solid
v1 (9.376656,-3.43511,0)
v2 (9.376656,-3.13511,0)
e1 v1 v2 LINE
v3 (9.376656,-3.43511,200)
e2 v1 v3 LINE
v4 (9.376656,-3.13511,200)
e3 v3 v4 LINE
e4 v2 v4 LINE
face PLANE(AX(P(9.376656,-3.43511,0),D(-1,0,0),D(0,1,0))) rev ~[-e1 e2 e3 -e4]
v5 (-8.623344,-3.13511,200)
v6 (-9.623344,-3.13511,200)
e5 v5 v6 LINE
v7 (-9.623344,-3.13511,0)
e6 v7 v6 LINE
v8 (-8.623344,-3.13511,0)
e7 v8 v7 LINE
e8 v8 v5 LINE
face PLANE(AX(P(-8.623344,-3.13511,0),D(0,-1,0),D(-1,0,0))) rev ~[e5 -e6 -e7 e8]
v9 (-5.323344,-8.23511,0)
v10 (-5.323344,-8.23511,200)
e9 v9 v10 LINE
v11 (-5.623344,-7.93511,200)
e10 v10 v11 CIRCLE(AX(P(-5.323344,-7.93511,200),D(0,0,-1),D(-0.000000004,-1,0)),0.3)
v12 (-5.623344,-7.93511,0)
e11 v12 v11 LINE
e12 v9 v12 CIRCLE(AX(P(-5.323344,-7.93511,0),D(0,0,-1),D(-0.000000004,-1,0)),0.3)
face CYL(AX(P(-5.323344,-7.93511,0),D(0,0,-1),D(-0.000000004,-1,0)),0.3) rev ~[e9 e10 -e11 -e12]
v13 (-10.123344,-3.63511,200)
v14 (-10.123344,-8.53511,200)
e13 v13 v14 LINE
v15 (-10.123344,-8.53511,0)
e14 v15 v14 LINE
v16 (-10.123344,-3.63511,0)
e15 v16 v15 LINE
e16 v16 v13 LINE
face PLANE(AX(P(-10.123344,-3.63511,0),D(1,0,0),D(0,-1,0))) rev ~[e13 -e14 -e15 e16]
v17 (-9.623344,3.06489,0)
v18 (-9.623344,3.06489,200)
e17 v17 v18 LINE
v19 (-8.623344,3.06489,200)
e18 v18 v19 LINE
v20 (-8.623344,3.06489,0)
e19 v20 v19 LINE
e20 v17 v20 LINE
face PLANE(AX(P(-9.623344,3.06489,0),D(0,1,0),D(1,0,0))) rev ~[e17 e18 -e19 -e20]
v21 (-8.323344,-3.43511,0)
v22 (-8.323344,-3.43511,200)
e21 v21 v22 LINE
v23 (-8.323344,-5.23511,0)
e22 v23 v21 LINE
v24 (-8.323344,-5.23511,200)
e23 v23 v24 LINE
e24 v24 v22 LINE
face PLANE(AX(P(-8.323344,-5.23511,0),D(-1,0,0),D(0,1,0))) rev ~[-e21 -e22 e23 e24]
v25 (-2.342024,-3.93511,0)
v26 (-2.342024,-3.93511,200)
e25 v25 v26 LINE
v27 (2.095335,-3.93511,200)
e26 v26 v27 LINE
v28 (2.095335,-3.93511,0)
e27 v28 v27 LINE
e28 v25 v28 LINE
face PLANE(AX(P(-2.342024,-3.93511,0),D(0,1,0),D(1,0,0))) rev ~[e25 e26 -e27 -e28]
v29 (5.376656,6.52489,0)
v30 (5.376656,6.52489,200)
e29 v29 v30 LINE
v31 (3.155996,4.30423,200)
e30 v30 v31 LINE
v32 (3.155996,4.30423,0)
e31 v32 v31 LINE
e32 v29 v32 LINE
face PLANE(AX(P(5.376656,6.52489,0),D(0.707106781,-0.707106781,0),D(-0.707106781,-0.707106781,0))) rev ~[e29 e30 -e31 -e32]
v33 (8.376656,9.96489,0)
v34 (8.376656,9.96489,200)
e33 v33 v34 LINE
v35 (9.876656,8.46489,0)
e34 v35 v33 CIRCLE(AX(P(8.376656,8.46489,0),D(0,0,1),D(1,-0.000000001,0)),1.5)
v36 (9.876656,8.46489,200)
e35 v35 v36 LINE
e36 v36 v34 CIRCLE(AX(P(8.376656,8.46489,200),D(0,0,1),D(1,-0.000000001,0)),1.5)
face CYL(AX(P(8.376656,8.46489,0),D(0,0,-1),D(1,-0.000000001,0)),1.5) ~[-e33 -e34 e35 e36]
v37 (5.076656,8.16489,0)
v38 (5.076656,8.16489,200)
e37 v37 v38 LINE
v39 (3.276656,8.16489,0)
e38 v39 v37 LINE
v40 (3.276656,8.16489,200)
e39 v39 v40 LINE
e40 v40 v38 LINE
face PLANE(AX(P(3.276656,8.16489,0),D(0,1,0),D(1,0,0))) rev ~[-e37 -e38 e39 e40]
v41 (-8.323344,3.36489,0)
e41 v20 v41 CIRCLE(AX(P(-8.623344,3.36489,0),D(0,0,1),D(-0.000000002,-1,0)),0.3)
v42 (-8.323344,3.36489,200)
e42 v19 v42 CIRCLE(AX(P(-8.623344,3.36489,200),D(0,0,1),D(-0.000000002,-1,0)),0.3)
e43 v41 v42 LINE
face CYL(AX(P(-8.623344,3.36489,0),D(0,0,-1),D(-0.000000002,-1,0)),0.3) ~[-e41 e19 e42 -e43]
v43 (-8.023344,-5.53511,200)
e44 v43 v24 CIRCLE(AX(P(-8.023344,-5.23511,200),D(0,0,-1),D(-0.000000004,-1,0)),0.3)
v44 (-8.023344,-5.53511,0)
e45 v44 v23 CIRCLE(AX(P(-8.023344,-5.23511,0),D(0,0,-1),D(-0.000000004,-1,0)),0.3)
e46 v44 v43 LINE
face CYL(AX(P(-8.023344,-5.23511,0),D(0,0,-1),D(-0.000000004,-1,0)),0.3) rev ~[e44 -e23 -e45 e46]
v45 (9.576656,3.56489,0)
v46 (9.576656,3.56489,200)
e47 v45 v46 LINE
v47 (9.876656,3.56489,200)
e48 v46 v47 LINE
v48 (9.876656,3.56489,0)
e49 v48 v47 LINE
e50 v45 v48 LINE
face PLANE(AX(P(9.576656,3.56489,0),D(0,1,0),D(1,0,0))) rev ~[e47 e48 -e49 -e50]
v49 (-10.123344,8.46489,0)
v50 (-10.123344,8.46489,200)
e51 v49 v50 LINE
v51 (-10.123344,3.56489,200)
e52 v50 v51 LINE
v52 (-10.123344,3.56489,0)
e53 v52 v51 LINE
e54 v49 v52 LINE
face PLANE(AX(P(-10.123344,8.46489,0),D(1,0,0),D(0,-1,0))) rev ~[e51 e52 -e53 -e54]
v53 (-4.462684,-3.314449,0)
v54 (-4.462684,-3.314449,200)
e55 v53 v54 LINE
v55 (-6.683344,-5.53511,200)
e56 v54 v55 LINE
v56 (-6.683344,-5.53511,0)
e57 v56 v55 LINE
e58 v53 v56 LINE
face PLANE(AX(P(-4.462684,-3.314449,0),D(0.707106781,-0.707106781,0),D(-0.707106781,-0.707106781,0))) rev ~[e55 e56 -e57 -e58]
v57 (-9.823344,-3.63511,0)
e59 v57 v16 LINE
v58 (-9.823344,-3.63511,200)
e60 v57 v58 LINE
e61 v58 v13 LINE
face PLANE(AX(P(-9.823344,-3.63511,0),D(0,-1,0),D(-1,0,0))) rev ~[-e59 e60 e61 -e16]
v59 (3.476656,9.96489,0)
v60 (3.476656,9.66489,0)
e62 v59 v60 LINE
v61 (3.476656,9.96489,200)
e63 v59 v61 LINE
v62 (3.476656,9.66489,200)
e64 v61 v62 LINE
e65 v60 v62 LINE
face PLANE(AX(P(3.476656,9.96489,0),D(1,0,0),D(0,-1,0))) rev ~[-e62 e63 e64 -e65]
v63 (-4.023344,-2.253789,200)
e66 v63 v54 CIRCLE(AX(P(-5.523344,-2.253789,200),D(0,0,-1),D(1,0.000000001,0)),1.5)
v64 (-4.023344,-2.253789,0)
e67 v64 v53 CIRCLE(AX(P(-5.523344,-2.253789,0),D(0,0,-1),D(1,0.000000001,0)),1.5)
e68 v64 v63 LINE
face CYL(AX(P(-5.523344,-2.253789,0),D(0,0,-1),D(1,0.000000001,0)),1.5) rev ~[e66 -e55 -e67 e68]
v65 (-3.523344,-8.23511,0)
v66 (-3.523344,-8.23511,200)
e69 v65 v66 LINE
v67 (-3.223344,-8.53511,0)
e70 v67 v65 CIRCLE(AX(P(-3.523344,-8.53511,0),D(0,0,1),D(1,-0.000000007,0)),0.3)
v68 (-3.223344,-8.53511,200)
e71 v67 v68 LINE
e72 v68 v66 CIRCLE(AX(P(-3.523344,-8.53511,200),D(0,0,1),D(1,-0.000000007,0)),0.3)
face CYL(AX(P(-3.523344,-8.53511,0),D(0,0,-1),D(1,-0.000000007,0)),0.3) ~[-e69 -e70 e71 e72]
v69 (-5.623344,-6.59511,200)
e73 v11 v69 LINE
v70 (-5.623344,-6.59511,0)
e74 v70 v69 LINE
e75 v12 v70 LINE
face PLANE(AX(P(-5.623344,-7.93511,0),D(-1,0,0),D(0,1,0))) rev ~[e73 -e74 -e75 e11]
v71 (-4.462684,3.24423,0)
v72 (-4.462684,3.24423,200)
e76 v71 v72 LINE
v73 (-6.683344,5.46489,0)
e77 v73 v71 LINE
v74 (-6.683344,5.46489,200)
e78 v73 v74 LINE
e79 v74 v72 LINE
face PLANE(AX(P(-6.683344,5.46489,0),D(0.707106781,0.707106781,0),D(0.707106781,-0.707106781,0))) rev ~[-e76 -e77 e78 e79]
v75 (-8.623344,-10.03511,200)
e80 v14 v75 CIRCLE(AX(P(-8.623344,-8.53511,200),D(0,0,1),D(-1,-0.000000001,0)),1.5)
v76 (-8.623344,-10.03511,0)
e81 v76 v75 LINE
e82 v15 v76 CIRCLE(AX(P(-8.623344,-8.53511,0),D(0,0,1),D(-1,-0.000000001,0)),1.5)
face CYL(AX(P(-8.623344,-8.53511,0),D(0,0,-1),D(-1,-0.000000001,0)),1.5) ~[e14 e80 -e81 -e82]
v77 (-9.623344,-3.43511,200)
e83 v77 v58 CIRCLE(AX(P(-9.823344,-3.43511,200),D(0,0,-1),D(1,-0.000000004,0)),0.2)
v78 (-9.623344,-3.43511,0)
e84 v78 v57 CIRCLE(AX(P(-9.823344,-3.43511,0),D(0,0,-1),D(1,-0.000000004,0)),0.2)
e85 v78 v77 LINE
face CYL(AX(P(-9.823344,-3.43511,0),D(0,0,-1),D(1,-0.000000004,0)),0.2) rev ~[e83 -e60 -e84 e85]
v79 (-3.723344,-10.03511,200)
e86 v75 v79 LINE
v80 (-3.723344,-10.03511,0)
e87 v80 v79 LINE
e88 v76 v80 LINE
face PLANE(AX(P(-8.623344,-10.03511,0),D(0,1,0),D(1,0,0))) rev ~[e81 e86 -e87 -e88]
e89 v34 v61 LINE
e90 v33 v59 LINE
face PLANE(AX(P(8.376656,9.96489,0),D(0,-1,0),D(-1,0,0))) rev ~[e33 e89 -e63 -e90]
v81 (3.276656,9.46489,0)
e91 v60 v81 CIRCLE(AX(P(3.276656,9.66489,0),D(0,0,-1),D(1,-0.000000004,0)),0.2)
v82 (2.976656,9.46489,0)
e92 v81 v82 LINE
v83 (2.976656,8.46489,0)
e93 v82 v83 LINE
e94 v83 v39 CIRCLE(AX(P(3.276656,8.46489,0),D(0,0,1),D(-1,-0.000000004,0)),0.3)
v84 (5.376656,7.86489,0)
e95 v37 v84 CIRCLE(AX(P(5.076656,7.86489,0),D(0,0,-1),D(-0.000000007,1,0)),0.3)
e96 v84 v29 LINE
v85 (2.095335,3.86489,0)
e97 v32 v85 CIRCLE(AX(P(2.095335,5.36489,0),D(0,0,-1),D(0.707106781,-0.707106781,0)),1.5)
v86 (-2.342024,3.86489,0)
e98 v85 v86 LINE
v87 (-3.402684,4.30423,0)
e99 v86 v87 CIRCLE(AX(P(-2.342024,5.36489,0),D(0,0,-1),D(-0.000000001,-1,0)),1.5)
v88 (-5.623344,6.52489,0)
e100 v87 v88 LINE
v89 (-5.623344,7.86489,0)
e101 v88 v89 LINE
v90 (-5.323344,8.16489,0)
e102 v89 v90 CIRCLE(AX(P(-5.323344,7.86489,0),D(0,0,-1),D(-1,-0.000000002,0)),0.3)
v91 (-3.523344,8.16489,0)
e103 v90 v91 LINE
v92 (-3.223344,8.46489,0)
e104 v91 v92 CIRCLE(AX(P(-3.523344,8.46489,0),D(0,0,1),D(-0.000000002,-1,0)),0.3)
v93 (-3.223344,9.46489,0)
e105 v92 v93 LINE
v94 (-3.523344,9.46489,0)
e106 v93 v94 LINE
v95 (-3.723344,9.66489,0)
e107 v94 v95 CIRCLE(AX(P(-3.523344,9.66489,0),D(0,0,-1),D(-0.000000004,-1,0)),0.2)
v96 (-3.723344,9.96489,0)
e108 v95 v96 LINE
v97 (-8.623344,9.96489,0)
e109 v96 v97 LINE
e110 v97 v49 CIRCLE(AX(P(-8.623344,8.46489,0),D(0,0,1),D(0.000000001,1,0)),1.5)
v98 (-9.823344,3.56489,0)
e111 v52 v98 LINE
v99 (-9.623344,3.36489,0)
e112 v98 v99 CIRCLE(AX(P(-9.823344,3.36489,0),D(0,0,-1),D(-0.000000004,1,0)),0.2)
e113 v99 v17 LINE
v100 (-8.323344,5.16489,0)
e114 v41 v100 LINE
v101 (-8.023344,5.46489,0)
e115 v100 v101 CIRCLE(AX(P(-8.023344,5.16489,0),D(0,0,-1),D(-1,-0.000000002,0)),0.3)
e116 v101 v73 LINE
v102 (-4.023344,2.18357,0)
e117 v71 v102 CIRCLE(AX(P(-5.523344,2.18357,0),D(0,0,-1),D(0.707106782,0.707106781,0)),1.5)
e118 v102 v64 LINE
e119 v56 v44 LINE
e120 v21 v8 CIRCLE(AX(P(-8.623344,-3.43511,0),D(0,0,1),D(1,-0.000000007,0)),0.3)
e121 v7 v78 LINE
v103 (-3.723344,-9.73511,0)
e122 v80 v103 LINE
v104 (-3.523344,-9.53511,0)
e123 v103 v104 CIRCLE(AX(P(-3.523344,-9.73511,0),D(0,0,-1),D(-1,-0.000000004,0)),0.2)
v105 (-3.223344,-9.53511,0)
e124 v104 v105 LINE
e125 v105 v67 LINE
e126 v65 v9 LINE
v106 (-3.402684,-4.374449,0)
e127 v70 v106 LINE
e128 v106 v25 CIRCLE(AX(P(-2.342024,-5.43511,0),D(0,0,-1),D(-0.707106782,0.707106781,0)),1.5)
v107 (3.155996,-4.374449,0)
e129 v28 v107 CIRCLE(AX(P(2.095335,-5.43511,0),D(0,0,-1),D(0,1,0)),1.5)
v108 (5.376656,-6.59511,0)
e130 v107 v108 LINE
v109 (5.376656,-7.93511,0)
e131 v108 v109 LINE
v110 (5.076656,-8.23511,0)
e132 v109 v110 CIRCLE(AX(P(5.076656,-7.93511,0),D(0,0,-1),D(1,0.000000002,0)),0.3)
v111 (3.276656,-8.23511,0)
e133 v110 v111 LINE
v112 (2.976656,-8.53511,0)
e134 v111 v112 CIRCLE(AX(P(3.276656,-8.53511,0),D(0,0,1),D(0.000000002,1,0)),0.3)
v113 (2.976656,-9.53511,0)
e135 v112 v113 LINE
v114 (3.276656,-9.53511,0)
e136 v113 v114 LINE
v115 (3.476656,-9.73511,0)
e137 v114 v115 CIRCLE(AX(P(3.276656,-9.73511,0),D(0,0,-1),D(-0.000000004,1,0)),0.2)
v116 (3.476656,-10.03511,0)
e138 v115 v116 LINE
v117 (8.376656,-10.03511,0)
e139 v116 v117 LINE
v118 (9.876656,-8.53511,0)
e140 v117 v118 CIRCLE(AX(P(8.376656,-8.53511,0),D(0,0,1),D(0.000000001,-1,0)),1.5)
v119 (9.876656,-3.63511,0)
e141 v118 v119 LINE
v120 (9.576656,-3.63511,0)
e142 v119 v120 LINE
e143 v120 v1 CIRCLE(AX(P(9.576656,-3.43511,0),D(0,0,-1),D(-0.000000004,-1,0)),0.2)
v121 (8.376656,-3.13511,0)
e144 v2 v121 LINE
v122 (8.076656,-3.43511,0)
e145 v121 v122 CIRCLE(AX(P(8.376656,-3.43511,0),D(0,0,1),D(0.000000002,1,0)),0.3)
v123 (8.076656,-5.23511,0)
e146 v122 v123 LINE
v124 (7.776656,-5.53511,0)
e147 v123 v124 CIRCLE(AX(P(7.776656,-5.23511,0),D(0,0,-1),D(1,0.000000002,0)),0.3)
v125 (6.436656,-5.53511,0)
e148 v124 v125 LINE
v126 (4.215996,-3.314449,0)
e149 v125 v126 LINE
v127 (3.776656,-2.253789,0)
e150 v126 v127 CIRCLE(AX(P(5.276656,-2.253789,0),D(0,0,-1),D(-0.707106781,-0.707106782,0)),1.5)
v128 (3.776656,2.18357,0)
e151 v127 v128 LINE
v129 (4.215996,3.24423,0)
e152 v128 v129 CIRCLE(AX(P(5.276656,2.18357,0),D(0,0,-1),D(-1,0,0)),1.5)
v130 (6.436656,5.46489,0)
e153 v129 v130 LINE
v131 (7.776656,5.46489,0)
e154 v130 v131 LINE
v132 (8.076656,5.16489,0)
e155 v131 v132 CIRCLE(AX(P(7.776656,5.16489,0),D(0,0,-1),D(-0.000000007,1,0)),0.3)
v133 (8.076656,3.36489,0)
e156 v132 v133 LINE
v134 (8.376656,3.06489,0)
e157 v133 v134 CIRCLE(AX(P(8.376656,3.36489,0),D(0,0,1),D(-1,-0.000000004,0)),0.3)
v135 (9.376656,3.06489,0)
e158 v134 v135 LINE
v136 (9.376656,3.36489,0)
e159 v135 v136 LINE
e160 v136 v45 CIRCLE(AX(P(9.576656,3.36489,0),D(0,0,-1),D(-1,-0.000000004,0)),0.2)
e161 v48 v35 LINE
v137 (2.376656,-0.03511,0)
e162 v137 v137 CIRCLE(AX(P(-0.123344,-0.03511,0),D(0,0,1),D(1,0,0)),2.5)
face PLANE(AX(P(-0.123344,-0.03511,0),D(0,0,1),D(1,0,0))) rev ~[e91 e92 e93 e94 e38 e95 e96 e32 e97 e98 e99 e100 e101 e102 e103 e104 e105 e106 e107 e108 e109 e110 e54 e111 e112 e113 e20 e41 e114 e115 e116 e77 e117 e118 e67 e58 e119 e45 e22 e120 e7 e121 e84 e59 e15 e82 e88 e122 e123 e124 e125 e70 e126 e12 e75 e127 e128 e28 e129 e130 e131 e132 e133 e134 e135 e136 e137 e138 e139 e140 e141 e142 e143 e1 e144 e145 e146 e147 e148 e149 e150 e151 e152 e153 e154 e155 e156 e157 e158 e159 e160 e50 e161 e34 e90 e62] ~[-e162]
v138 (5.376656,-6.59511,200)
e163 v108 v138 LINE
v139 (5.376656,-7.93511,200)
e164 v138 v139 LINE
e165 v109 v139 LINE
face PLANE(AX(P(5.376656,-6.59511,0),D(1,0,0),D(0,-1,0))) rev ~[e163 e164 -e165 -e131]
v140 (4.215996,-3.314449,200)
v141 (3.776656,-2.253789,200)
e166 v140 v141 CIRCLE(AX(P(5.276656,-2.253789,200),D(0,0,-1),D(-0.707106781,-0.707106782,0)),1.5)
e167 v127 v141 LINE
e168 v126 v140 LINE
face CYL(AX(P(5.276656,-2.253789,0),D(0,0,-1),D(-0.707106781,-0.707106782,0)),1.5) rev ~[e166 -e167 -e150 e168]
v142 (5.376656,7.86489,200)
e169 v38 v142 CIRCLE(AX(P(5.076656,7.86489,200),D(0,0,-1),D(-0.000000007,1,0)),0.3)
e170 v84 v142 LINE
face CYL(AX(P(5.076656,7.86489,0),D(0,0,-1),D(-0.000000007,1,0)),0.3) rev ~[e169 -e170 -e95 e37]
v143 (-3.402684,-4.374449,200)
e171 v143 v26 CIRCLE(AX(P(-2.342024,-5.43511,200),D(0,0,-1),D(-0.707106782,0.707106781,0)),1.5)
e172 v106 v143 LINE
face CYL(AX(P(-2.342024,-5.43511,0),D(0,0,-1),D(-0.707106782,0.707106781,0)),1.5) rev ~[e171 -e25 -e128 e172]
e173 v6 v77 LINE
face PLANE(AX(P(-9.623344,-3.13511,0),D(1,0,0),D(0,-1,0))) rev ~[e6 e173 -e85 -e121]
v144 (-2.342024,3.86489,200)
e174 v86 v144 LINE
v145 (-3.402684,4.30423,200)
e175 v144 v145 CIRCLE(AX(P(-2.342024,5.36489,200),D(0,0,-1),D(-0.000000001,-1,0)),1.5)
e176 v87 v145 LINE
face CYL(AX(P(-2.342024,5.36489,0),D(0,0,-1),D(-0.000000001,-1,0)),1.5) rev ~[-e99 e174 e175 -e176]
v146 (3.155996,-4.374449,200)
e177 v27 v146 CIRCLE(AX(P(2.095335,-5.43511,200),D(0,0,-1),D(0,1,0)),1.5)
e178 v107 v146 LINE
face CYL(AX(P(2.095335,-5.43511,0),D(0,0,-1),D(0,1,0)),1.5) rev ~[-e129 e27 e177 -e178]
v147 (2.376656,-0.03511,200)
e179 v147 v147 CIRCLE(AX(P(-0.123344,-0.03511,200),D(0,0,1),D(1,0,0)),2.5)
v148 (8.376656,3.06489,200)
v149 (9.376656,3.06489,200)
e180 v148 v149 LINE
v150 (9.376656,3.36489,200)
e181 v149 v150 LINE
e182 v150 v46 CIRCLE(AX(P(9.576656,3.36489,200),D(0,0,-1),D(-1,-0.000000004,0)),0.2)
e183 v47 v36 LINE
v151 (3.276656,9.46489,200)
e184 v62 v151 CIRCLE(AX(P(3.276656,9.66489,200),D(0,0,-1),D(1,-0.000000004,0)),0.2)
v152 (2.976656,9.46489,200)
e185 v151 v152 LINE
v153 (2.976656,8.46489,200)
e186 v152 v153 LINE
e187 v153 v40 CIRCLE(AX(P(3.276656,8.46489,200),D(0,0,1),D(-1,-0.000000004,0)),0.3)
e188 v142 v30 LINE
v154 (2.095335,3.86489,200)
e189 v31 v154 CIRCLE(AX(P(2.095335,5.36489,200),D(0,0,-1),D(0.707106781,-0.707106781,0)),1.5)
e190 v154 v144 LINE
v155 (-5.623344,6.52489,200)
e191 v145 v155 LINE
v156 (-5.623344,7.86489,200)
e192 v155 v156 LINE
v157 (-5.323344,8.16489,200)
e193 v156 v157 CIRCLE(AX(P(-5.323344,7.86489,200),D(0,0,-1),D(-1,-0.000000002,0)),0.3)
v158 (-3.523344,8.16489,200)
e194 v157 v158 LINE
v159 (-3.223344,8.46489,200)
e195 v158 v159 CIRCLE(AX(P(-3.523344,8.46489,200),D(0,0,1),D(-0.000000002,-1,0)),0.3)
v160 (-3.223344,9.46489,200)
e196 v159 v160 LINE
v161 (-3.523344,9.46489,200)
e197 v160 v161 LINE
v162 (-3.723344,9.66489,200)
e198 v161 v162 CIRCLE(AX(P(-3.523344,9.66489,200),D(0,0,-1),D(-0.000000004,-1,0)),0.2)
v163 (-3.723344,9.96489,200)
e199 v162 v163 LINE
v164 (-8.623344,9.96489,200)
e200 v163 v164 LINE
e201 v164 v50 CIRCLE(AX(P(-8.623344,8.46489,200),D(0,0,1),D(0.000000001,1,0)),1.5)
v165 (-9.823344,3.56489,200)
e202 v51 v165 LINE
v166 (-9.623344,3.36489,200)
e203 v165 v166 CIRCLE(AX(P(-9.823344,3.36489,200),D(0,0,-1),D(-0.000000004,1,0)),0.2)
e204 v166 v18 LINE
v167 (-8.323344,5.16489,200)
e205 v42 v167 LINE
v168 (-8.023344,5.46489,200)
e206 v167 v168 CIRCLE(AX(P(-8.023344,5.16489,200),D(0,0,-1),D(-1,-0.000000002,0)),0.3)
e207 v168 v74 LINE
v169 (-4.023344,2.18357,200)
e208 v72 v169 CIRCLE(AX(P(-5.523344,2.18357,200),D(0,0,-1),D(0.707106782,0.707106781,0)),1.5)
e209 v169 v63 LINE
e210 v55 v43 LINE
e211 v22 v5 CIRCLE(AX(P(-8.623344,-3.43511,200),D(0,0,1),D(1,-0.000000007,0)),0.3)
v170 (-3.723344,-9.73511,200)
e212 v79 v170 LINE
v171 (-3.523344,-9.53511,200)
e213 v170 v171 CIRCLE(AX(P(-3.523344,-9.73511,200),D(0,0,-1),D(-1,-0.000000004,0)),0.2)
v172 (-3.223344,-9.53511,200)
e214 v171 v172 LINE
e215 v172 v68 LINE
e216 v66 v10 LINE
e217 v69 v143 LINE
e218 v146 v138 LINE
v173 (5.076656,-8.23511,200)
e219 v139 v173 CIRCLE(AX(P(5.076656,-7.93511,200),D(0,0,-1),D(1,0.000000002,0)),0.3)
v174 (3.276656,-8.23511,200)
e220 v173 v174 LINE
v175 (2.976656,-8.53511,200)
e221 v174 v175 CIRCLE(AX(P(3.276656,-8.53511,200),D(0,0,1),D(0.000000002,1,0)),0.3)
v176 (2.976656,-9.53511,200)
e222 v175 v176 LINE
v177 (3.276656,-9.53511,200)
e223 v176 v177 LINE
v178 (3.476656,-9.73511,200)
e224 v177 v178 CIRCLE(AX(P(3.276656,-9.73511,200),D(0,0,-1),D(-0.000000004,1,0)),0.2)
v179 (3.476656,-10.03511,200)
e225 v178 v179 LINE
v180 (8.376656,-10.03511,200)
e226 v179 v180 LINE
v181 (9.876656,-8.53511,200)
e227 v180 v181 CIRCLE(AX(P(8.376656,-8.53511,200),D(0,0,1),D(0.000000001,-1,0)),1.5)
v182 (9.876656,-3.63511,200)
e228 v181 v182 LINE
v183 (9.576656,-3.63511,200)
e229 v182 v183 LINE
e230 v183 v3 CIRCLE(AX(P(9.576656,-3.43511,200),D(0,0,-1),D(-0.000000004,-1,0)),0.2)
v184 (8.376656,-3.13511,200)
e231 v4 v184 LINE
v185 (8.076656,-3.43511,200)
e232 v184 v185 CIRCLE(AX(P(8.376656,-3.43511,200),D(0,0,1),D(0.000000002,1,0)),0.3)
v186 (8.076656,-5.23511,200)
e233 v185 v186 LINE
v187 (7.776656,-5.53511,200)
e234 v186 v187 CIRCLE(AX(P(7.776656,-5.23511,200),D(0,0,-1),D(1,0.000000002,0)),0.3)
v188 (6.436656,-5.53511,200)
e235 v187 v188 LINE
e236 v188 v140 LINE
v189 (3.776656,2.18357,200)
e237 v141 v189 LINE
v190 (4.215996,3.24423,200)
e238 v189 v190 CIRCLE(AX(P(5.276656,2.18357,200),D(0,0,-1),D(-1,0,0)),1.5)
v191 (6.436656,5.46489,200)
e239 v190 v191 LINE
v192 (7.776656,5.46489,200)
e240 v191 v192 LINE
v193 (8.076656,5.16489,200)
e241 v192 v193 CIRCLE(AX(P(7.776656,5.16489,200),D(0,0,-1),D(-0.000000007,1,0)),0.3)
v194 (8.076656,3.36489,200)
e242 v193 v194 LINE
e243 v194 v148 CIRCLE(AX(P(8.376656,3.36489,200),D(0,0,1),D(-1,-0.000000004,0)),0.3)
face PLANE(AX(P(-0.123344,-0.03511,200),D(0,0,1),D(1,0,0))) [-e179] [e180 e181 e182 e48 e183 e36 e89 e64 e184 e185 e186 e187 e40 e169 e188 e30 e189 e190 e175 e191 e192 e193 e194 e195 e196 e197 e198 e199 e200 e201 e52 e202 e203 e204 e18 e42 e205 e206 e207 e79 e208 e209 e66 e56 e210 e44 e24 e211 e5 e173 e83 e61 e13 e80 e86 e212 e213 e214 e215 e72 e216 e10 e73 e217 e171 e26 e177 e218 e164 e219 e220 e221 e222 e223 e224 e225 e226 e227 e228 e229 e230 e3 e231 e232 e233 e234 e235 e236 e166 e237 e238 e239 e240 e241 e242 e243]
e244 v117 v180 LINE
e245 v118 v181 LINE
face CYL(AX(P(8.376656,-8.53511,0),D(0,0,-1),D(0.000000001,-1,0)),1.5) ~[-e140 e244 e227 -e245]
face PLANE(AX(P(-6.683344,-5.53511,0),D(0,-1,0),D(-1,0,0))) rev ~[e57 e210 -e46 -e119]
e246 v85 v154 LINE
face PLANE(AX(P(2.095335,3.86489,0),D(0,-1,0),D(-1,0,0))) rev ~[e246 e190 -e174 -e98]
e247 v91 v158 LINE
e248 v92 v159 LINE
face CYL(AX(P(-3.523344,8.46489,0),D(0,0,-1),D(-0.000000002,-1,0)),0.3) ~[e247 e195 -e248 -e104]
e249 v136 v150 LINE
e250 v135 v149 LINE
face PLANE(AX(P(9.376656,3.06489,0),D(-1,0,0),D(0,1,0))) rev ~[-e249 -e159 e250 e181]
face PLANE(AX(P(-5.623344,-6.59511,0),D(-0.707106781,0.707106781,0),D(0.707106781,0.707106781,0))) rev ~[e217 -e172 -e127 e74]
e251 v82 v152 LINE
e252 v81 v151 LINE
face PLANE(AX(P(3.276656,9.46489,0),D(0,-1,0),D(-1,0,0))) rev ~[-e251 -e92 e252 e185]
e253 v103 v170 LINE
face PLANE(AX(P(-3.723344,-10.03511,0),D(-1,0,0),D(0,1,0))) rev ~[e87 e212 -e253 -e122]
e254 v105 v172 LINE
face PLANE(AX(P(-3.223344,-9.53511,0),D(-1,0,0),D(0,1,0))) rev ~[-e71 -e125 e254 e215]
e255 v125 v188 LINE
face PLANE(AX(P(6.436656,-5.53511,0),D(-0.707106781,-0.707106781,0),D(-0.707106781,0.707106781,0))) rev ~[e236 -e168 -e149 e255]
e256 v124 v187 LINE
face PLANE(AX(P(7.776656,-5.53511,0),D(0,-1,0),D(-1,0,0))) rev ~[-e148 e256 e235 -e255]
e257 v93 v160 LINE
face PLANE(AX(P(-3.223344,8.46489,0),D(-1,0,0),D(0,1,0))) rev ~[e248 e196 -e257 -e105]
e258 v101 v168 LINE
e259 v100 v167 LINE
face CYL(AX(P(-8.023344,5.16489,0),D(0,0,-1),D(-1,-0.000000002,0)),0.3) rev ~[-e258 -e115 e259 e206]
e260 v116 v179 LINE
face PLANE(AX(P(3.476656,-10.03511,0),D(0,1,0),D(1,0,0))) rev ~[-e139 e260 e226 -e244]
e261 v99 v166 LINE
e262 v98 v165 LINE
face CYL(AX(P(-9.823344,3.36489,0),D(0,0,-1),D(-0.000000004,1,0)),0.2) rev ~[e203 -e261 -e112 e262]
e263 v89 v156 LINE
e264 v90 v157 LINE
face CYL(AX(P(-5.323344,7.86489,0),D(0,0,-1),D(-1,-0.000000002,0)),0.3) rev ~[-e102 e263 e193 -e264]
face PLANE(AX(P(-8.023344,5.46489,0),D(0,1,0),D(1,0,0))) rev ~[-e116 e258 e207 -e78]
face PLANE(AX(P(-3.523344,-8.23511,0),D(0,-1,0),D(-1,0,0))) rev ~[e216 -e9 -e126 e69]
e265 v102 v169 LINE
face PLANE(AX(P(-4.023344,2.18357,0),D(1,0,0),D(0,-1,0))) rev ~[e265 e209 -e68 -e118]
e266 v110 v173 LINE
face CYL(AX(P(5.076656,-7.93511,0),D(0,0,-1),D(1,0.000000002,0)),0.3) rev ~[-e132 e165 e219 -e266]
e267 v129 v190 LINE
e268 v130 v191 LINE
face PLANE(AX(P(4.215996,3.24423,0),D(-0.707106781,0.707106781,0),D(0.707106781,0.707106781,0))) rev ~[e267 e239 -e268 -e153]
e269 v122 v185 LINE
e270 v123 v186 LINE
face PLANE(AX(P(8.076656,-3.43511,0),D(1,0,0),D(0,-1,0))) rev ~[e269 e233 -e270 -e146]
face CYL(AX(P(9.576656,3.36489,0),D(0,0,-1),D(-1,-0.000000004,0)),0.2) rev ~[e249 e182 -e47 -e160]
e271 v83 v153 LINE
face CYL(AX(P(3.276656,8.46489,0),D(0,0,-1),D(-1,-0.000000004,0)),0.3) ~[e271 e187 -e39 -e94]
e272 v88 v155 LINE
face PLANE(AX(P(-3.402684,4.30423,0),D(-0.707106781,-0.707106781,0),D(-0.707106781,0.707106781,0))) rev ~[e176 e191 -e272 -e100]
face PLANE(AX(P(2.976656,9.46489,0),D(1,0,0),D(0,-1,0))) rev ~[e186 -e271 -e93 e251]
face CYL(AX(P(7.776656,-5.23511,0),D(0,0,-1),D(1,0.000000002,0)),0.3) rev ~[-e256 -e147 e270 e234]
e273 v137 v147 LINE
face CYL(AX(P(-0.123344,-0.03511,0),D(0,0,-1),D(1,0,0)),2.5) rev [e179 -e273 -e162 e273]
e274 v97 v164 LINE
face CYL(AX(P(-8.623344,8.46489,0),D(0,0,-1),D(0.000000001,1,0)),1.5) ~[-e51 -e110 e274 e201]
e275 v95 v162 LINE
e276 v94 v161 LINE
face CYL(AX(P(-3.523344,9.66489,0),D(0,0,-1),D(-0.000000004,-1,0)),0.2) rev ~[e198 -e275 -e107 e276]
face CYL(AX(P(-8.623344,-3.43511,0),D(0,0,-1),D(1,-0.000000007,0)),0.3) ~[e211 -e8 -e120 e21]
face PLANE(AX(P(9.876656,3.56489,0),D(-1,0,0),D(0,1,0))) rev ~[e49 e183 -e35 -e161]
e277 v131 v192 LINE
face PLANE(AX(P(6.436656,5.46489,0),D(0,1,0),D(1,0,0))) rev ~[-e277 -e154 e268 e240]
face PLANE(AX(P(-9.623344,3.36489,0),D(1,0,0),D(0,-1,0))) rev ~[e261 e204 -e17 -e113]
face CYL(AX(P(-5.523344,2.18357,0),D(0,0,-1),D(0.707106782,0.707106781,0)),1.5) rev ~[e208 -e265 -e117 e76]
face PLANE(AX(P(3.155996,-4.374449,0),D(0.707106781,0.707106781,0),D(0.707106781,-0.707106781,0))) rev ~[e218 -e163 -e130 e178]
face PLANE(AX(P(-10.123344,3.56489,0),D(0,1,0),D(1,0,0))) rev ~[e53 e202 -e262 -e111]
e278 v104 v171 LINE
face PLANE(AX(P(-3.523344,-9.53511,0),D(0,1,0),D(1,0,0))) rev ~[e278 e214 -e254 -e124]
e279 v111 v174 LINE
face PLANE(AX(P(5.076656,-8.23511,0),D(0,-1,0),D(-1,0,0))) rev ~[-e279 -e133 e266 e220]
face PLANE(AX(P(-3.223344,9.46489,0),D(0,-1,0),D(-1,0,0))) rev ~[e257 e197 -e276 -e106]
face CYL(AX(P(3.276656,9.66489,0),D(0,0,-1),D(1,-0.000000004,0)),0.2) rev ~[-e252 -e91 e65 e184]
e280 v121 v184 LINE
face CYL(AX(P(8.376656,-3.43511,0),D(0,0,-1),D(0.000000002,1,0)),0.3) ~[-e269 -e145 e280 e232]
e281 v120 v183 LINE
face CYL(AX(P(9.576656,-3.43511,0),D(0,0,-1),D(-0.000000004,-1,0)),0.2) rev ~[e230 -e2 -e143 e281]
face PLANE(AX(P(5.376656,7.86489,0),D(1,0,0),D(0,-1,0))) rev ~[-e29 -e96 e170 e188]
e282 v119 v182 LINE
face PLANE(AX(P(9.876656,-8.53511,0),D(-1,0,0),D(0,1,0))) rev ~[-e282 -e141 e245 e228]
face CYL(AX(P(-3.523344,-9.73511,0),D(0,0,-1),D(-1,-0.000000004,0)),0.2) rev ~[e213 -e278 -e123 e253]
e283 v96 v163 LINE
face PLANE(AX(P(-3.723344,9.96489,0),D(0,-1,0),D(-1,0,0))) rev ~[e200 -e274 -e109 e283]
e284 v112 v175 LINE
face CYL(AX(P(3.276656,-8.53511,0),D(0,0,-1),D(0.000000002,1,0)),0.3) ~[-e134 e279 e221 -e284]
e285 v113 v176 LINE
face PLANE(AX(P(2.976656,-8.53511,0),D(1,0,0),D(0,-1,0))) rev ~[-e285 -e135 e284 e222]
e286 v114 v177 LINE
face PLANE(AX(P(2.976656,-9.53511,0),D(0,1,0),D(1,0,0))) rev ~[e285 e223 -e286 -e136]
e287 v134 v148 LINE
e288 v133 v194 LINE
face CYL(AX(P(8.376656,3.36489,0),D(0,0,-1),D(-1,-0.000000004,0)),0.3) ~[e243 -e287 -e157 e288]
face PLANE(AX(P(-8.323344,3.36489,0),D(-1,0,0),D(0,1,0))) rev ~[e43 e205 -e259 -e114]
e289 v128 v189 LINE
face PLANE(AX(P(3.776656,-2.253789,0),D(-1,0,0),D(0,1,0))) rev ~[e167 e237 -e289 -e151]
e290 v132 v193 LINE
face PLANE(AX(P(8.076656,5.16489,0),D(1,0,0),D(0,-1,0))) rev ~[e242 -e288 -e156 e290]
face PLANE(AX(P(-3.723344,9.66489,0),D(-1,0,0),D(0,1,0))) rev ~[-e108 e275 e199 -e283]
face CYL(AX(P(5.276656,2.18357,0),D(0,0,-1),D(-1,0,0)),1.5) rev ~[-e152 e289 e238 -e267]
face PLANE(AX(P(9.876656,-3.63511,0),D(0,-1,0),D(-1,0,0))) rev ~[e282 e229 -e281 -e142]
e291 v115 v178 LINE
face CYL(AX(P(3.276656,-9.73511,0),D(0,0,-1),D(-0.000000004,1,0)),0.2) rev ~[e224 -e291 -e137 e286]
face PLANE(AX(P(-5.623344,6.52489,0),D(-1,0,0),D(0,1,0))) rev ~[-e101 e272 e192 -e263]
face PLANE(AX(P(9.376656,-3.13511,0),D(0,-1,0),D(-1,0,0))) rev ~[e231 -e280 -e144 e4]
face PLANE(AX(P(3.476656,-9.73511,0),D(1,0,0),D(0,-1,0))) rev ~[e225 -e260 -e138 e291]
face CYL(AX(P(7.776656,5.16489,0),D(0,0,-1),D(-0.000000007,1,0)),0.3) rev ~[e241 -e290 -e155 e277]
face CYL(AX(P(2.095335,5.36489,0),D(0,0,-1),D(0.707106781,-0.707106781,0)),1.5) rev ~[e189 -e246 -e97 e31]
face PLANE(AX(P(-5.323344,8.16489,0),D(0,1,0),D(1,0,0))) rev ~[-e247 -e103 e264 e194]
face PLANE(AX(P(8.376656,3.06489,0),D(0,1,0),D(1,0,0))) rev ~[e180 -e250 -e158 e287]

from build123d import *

# Parameters (mm, degrees)
SKETCH_1_R      = 2.5
EXTRUDE_1_DEPTH = 200


with BuildPart() as part:
    # 草图1 → 凸台-拉伸1 (new body)
    with BuildSketch(Plane.XY):
        with BuildLine():
            Line((4.215995631, 3.244230202), (6.436655803, 5.464890373))
            Line((6.436655803, 5.464890373), (7.776655803, 5.464890373))
            ThreePointArc((7.776655803, 5.464890373), (7.988787838, 5.377022408), (8.076655803, 5.164890373))
            Line((8.076655803, 5.164890373), (8.076655803, 3.364890373))
            ThreePointArc((8.076655803, 3.364890373), (8.164523769, 3.152758339), (8.376655803, 3.064890373))
            Line((8.376655803, 3.064890373), (9.376655803, 3.064890373))
            Line((9.376655803, 3.064890373), (9.376655803, 3.364890373))
            ThreePointArc((9.376655803, 3.364890373), (9.435234447, 3.50631173), (9.576655803, 3.564890373))
            Line((9.576655803, 3.564890373), (9.876655803, 3.564890373))
            Line((9.876655803, 3.564890373), (9.876655803, 8.464890373))
            ThreePointArc((9.876655803, 8.464890373), (9.437315975, 9.525550545), (8.376655803, 9.964890373))
            Line((8.376655803, 9.964890373), (3.476655803, 9.964890373))
            Line((3.476655803, 9.964890373), (3.476655803, 9.664890373))
            ThreePointArc((3.476655803, 9.664890373), (3.418077159, 9.523469017), (3.276655803, 9.464890373))
            Line((3.276655803, 9.464890373), (2.976655803, 9.464890373))
            Line((2.976655803, 9.464890373), (2.976655803, 8.464890373))
            ThreePointArc((2.976655803, 8.464890373), (3.064523769, 8.252758339), (3.276655803, 8.164890373))
            Line((3.276655803, 8.164890373), (5.076655803, 8.164890373))
            ThreePointArc((5.076655803, 8.164890373), (5.288787838, 8.077022408), (5.376655803, 7.864890373))
            Line((5.376655803, 7.864890373), (5.376655803, 6.524890373))
            Line((5.376655803, 6.524890373), (3.155995631, 4.304230202))
            ThreePointArc((3.155995631, 4.304230202), (2.669360608, 3.979071075), (2.09533546, 3.864890373))
            Line((2.09533546, 3.864890373), (-2.342023853, 3.864890373))
            ThreePointArc((-2.342023853, 3.864890373), (-2.916049002, 3.979071075), (-3.402684025, 4.304230202))
            Line((-3.402684025, 4.304230202), (-5.623344197, 6.524890373))
            Line((-5.623344197, 6.524890373), (-5.623344197, 7.864890373))
            ThreePointArc((-5.623344197, 7.864890373), (-5.535476231, 8.077022408), (-5.323344197, 8.164890373))
            Line((-5.323344197, 8.164890373), (-3.523344197, 8.164890373))
            ThreePointArc((-3.523344197, 8.164890373), (-3.311212162, 8.252758339), (-3.223344197, 8.464890373))
            Line((-3.223344197, 8.464890373), (-3.223344197, 9.464890373))
            Line((-3.223344197, 9.464890373), (-3.523344197, 9.464890373))
            ThreePointArc((-3.523344197, 9.464890373), (-3.664765553, 9.523469017), (-3.723344197, 9.664890373))
            Line((-3.723344197, 9.664890373), (-3.723344197, 9.964890373))
            Line((-3.723344197, 9.964890373), (-8.623344197, 9.964890373))
            ThreePointArc((-8.623344197, 9.964890373), (-9.684004369, 9.525550545), (-10.123344197, 8.464890373))
            Line((-10.123344197, 8.464890373), (-10.123344197, 3.564890373))
            Line((-10.123344197, 3.564890373), (-9.823344197, 3.564890373))
            ThreePointArc((-9.823344197, 3.564890373), (-9.681922841, 3.50631173), (-9.623344197, 3.364890373))
            Line((-9.623344197, 3.364890373), (-9.623344197, 3.064890373))
            Line((-9.623344197, 3.064890373), (-8.623344197, 3.064890373))
            ThreePointArc((-8.623344197, 3.064890373), (-8.411212162, 3.152758339), (-8.323344197, 3.364890373))
            Line((-8.323344197, 3.364890373), (-8.323344197, 5.164890373))
            ThreePointArc((-8.323344197, 5.164890373), (-8.235476231, 5.377022408), (-8.023344197, 5.464890373))
            Line((-8.023344197, 5.464890373), (-6.683344197, 5.464890373))
            Line((-6.683344197, 5.464890373), (-4.462684025, 3.244230202))
            ThreePointArc((-4.462684025, 3.244230202), (-4.137524898, 2.757595178), (-4.023344197, 2.18357003))
            Line((-4.023344197, 2.18357003), (-4.023344197, -2.253789283))
            ThreePointArc((-4.023344197, -2.253789283), (-4.137524898, -2.827814432), (-4.462684025, -3.314449455))
            Line((-4.462684025, -3.314449455), (-6.683344197, -5.535109627))
            Line((-6.683344197, -5.535109627), (-8.023344197, -5.535109627))
            ThreePointArc((-8.023344197, -5.535109627), (-8.235476231, -5.447241661), (-8.323344197, -5.235109627))
            Line((-8.323344197, -5.235109627), (-8.323344197, -3.435109627))
            ThreePointArc((-8.323344197, -3.435109627), (-8.411212162, -3.222977592), (-8.623344197, -3.135109627))
            Line((-8.623344197, -3.135109627), (-9.623344197, -3.135109627))
            Line((-9.623344197, -3.135109627), (-9.623344197, -3.435109627))
            ThreePointArc((-9.623344197, -3.435109627), (-9.681922841, -3.576530983), (-9.823344197, -3.635109627))
            Line((-9.823344197, -3.635109627), (-10.123344197, -3.635109627))
            Line((-10.123344197, -3.635109627), (-10.123344197, -8.535109627))
            ThreePointArc((-10.123344197, -8.535109627), (-9.684004369, -9.595769798), (-8.623344197, -10.035109627))
            Line((-8.623344197, -10.035109627), (-3.723344197, -10.035109627))
            Line((-3.723344197, -10.035109627), (-3.723344197, -9.735109627))
            ThreePointArc((-3.723344197, -9.735109627), (-3.664765553, -9.59368827), (-3.523344197, -9.535109627))
            Line((-3.523344197, -9.535109627), (-3.223344197, -9.535109627))
            Line((-3.223344197, -9.535109627), (-3.223344197, -8.535109627))
            ThreePointArc((-3.223344197, -8.535109627), (-3.311212162, -8.322977592), (-3.523344197, -8.235109627))
            Line((-3.523344197, -8.235109627), (-5.323344197, -8.235109627))
            ThreePointArc((-5.323344197, -8.235109627), (-5.535476231, -8.147241661), (-5.623344197, -7.935109627))
            Line((-5.623344197, -7.935109627), (-5.623344197, -6.595109627))
            Line((-5.623344197, -6.595109627), (-3.402684025, -4.374449455))
            ThreePointArc((-3.402684025, -4.374449455), (-2.916049002, -4.049290328), (-2.342023853, -3.935109627))
            Line((-2.342023853, -3.935109627), (2.09533546, -3.935109627))
            ThreePointArc((2.09533546, -3.935109627), (2.669360608, -4.049290328), (3.155995631, -4.374449455))
            Line((3.155995631, -4.374449455), (5.376655803, -6.595109627))
            Line((5.376655803, -6.595109627), (5.376655803, -7.935109627))
            ThreePointArc((5.376655803, -7.935109627), (5.288787838, -8.147241661), (5.076655803, -8.235109627))
            Line((5.076655803, -8.235109627), (3.276655803, -8.235109627))
            ThreePointArc((3.276655803, -8.235109627), (3.064523769, -8.322977592), (2.976655803, -8.535109627))
            Line((2.976655803, -8.535109627), (2.976655803, -9.535109627))
            Line((2.976655803, -9.535109627), (3.276655803, -9.535109627))
            ThreePointArc((3.276655803, -9.535109627), (3.418077159, -9.59368827), (3.476655803, -9.735109627))
            Line((3.476655803, -9.735109627), (3.476655803, -10.035109627))
            Line((3.476655803, -10.035109627), (8.376655803, -10.035109627))
            ThreePointArc((8.376655803, -10.035109627), (9.437315975, -9.595769798), (9.876655803, -8.535109627))
            Line((9.876655803, -8.535109627), (9.876655803, -3.635109627))
            Line((9.876655803, -3.635109627), (9.576655803, -3.635109627))
            ThreePointArc((9.576655803, -3.635109627), (9.435234447, -3.576530983), (9.376655803, -3.435109627))
            Line((9.376655803, -3.435109627), (9.376655803, -3.135109627))
            Line((9.376655803, -3.135109627), (8.376655803, -3.135109627))
            ThreePointArc((8.376655803, -3.135109627), (8.164523769, -3.222977592), (8.076655803, -3.435109627))
            Line((8.076655803, -3.435109627), (8.076655803, -5.235109627))
            ThreePointArc((8.076655803, -5.235109627), (7.988787838, -5.447241661), (7.776655803, -5.535109627))
            Line((7.776655803, -5.535109627), (6.436655803, -5.535109627))
            Line((6.436655803, -5.535109627), (4.215995631, -3.314449455))
            ThreePointArc((4.215995631, -3.314449455), (3.890836504, -2.827814432), (3.776655803, -2.253789283))
            Line((3.776655803, -2.253789283), (3.776655803, 2.18357003))
            ThreePointArc((3.776655803, 2.18357003), (3.890836504, 2.757595178), (4.215995631, 3.244230202))
        make_face()
        with Locations((-0.123344197, -0.035109627)):
            Circle(SKETCH_1_R, mode=Mode.SUBTRACT)
    extrude(amount=EXTRUDE_1_DEPTH)


solid = part.part
